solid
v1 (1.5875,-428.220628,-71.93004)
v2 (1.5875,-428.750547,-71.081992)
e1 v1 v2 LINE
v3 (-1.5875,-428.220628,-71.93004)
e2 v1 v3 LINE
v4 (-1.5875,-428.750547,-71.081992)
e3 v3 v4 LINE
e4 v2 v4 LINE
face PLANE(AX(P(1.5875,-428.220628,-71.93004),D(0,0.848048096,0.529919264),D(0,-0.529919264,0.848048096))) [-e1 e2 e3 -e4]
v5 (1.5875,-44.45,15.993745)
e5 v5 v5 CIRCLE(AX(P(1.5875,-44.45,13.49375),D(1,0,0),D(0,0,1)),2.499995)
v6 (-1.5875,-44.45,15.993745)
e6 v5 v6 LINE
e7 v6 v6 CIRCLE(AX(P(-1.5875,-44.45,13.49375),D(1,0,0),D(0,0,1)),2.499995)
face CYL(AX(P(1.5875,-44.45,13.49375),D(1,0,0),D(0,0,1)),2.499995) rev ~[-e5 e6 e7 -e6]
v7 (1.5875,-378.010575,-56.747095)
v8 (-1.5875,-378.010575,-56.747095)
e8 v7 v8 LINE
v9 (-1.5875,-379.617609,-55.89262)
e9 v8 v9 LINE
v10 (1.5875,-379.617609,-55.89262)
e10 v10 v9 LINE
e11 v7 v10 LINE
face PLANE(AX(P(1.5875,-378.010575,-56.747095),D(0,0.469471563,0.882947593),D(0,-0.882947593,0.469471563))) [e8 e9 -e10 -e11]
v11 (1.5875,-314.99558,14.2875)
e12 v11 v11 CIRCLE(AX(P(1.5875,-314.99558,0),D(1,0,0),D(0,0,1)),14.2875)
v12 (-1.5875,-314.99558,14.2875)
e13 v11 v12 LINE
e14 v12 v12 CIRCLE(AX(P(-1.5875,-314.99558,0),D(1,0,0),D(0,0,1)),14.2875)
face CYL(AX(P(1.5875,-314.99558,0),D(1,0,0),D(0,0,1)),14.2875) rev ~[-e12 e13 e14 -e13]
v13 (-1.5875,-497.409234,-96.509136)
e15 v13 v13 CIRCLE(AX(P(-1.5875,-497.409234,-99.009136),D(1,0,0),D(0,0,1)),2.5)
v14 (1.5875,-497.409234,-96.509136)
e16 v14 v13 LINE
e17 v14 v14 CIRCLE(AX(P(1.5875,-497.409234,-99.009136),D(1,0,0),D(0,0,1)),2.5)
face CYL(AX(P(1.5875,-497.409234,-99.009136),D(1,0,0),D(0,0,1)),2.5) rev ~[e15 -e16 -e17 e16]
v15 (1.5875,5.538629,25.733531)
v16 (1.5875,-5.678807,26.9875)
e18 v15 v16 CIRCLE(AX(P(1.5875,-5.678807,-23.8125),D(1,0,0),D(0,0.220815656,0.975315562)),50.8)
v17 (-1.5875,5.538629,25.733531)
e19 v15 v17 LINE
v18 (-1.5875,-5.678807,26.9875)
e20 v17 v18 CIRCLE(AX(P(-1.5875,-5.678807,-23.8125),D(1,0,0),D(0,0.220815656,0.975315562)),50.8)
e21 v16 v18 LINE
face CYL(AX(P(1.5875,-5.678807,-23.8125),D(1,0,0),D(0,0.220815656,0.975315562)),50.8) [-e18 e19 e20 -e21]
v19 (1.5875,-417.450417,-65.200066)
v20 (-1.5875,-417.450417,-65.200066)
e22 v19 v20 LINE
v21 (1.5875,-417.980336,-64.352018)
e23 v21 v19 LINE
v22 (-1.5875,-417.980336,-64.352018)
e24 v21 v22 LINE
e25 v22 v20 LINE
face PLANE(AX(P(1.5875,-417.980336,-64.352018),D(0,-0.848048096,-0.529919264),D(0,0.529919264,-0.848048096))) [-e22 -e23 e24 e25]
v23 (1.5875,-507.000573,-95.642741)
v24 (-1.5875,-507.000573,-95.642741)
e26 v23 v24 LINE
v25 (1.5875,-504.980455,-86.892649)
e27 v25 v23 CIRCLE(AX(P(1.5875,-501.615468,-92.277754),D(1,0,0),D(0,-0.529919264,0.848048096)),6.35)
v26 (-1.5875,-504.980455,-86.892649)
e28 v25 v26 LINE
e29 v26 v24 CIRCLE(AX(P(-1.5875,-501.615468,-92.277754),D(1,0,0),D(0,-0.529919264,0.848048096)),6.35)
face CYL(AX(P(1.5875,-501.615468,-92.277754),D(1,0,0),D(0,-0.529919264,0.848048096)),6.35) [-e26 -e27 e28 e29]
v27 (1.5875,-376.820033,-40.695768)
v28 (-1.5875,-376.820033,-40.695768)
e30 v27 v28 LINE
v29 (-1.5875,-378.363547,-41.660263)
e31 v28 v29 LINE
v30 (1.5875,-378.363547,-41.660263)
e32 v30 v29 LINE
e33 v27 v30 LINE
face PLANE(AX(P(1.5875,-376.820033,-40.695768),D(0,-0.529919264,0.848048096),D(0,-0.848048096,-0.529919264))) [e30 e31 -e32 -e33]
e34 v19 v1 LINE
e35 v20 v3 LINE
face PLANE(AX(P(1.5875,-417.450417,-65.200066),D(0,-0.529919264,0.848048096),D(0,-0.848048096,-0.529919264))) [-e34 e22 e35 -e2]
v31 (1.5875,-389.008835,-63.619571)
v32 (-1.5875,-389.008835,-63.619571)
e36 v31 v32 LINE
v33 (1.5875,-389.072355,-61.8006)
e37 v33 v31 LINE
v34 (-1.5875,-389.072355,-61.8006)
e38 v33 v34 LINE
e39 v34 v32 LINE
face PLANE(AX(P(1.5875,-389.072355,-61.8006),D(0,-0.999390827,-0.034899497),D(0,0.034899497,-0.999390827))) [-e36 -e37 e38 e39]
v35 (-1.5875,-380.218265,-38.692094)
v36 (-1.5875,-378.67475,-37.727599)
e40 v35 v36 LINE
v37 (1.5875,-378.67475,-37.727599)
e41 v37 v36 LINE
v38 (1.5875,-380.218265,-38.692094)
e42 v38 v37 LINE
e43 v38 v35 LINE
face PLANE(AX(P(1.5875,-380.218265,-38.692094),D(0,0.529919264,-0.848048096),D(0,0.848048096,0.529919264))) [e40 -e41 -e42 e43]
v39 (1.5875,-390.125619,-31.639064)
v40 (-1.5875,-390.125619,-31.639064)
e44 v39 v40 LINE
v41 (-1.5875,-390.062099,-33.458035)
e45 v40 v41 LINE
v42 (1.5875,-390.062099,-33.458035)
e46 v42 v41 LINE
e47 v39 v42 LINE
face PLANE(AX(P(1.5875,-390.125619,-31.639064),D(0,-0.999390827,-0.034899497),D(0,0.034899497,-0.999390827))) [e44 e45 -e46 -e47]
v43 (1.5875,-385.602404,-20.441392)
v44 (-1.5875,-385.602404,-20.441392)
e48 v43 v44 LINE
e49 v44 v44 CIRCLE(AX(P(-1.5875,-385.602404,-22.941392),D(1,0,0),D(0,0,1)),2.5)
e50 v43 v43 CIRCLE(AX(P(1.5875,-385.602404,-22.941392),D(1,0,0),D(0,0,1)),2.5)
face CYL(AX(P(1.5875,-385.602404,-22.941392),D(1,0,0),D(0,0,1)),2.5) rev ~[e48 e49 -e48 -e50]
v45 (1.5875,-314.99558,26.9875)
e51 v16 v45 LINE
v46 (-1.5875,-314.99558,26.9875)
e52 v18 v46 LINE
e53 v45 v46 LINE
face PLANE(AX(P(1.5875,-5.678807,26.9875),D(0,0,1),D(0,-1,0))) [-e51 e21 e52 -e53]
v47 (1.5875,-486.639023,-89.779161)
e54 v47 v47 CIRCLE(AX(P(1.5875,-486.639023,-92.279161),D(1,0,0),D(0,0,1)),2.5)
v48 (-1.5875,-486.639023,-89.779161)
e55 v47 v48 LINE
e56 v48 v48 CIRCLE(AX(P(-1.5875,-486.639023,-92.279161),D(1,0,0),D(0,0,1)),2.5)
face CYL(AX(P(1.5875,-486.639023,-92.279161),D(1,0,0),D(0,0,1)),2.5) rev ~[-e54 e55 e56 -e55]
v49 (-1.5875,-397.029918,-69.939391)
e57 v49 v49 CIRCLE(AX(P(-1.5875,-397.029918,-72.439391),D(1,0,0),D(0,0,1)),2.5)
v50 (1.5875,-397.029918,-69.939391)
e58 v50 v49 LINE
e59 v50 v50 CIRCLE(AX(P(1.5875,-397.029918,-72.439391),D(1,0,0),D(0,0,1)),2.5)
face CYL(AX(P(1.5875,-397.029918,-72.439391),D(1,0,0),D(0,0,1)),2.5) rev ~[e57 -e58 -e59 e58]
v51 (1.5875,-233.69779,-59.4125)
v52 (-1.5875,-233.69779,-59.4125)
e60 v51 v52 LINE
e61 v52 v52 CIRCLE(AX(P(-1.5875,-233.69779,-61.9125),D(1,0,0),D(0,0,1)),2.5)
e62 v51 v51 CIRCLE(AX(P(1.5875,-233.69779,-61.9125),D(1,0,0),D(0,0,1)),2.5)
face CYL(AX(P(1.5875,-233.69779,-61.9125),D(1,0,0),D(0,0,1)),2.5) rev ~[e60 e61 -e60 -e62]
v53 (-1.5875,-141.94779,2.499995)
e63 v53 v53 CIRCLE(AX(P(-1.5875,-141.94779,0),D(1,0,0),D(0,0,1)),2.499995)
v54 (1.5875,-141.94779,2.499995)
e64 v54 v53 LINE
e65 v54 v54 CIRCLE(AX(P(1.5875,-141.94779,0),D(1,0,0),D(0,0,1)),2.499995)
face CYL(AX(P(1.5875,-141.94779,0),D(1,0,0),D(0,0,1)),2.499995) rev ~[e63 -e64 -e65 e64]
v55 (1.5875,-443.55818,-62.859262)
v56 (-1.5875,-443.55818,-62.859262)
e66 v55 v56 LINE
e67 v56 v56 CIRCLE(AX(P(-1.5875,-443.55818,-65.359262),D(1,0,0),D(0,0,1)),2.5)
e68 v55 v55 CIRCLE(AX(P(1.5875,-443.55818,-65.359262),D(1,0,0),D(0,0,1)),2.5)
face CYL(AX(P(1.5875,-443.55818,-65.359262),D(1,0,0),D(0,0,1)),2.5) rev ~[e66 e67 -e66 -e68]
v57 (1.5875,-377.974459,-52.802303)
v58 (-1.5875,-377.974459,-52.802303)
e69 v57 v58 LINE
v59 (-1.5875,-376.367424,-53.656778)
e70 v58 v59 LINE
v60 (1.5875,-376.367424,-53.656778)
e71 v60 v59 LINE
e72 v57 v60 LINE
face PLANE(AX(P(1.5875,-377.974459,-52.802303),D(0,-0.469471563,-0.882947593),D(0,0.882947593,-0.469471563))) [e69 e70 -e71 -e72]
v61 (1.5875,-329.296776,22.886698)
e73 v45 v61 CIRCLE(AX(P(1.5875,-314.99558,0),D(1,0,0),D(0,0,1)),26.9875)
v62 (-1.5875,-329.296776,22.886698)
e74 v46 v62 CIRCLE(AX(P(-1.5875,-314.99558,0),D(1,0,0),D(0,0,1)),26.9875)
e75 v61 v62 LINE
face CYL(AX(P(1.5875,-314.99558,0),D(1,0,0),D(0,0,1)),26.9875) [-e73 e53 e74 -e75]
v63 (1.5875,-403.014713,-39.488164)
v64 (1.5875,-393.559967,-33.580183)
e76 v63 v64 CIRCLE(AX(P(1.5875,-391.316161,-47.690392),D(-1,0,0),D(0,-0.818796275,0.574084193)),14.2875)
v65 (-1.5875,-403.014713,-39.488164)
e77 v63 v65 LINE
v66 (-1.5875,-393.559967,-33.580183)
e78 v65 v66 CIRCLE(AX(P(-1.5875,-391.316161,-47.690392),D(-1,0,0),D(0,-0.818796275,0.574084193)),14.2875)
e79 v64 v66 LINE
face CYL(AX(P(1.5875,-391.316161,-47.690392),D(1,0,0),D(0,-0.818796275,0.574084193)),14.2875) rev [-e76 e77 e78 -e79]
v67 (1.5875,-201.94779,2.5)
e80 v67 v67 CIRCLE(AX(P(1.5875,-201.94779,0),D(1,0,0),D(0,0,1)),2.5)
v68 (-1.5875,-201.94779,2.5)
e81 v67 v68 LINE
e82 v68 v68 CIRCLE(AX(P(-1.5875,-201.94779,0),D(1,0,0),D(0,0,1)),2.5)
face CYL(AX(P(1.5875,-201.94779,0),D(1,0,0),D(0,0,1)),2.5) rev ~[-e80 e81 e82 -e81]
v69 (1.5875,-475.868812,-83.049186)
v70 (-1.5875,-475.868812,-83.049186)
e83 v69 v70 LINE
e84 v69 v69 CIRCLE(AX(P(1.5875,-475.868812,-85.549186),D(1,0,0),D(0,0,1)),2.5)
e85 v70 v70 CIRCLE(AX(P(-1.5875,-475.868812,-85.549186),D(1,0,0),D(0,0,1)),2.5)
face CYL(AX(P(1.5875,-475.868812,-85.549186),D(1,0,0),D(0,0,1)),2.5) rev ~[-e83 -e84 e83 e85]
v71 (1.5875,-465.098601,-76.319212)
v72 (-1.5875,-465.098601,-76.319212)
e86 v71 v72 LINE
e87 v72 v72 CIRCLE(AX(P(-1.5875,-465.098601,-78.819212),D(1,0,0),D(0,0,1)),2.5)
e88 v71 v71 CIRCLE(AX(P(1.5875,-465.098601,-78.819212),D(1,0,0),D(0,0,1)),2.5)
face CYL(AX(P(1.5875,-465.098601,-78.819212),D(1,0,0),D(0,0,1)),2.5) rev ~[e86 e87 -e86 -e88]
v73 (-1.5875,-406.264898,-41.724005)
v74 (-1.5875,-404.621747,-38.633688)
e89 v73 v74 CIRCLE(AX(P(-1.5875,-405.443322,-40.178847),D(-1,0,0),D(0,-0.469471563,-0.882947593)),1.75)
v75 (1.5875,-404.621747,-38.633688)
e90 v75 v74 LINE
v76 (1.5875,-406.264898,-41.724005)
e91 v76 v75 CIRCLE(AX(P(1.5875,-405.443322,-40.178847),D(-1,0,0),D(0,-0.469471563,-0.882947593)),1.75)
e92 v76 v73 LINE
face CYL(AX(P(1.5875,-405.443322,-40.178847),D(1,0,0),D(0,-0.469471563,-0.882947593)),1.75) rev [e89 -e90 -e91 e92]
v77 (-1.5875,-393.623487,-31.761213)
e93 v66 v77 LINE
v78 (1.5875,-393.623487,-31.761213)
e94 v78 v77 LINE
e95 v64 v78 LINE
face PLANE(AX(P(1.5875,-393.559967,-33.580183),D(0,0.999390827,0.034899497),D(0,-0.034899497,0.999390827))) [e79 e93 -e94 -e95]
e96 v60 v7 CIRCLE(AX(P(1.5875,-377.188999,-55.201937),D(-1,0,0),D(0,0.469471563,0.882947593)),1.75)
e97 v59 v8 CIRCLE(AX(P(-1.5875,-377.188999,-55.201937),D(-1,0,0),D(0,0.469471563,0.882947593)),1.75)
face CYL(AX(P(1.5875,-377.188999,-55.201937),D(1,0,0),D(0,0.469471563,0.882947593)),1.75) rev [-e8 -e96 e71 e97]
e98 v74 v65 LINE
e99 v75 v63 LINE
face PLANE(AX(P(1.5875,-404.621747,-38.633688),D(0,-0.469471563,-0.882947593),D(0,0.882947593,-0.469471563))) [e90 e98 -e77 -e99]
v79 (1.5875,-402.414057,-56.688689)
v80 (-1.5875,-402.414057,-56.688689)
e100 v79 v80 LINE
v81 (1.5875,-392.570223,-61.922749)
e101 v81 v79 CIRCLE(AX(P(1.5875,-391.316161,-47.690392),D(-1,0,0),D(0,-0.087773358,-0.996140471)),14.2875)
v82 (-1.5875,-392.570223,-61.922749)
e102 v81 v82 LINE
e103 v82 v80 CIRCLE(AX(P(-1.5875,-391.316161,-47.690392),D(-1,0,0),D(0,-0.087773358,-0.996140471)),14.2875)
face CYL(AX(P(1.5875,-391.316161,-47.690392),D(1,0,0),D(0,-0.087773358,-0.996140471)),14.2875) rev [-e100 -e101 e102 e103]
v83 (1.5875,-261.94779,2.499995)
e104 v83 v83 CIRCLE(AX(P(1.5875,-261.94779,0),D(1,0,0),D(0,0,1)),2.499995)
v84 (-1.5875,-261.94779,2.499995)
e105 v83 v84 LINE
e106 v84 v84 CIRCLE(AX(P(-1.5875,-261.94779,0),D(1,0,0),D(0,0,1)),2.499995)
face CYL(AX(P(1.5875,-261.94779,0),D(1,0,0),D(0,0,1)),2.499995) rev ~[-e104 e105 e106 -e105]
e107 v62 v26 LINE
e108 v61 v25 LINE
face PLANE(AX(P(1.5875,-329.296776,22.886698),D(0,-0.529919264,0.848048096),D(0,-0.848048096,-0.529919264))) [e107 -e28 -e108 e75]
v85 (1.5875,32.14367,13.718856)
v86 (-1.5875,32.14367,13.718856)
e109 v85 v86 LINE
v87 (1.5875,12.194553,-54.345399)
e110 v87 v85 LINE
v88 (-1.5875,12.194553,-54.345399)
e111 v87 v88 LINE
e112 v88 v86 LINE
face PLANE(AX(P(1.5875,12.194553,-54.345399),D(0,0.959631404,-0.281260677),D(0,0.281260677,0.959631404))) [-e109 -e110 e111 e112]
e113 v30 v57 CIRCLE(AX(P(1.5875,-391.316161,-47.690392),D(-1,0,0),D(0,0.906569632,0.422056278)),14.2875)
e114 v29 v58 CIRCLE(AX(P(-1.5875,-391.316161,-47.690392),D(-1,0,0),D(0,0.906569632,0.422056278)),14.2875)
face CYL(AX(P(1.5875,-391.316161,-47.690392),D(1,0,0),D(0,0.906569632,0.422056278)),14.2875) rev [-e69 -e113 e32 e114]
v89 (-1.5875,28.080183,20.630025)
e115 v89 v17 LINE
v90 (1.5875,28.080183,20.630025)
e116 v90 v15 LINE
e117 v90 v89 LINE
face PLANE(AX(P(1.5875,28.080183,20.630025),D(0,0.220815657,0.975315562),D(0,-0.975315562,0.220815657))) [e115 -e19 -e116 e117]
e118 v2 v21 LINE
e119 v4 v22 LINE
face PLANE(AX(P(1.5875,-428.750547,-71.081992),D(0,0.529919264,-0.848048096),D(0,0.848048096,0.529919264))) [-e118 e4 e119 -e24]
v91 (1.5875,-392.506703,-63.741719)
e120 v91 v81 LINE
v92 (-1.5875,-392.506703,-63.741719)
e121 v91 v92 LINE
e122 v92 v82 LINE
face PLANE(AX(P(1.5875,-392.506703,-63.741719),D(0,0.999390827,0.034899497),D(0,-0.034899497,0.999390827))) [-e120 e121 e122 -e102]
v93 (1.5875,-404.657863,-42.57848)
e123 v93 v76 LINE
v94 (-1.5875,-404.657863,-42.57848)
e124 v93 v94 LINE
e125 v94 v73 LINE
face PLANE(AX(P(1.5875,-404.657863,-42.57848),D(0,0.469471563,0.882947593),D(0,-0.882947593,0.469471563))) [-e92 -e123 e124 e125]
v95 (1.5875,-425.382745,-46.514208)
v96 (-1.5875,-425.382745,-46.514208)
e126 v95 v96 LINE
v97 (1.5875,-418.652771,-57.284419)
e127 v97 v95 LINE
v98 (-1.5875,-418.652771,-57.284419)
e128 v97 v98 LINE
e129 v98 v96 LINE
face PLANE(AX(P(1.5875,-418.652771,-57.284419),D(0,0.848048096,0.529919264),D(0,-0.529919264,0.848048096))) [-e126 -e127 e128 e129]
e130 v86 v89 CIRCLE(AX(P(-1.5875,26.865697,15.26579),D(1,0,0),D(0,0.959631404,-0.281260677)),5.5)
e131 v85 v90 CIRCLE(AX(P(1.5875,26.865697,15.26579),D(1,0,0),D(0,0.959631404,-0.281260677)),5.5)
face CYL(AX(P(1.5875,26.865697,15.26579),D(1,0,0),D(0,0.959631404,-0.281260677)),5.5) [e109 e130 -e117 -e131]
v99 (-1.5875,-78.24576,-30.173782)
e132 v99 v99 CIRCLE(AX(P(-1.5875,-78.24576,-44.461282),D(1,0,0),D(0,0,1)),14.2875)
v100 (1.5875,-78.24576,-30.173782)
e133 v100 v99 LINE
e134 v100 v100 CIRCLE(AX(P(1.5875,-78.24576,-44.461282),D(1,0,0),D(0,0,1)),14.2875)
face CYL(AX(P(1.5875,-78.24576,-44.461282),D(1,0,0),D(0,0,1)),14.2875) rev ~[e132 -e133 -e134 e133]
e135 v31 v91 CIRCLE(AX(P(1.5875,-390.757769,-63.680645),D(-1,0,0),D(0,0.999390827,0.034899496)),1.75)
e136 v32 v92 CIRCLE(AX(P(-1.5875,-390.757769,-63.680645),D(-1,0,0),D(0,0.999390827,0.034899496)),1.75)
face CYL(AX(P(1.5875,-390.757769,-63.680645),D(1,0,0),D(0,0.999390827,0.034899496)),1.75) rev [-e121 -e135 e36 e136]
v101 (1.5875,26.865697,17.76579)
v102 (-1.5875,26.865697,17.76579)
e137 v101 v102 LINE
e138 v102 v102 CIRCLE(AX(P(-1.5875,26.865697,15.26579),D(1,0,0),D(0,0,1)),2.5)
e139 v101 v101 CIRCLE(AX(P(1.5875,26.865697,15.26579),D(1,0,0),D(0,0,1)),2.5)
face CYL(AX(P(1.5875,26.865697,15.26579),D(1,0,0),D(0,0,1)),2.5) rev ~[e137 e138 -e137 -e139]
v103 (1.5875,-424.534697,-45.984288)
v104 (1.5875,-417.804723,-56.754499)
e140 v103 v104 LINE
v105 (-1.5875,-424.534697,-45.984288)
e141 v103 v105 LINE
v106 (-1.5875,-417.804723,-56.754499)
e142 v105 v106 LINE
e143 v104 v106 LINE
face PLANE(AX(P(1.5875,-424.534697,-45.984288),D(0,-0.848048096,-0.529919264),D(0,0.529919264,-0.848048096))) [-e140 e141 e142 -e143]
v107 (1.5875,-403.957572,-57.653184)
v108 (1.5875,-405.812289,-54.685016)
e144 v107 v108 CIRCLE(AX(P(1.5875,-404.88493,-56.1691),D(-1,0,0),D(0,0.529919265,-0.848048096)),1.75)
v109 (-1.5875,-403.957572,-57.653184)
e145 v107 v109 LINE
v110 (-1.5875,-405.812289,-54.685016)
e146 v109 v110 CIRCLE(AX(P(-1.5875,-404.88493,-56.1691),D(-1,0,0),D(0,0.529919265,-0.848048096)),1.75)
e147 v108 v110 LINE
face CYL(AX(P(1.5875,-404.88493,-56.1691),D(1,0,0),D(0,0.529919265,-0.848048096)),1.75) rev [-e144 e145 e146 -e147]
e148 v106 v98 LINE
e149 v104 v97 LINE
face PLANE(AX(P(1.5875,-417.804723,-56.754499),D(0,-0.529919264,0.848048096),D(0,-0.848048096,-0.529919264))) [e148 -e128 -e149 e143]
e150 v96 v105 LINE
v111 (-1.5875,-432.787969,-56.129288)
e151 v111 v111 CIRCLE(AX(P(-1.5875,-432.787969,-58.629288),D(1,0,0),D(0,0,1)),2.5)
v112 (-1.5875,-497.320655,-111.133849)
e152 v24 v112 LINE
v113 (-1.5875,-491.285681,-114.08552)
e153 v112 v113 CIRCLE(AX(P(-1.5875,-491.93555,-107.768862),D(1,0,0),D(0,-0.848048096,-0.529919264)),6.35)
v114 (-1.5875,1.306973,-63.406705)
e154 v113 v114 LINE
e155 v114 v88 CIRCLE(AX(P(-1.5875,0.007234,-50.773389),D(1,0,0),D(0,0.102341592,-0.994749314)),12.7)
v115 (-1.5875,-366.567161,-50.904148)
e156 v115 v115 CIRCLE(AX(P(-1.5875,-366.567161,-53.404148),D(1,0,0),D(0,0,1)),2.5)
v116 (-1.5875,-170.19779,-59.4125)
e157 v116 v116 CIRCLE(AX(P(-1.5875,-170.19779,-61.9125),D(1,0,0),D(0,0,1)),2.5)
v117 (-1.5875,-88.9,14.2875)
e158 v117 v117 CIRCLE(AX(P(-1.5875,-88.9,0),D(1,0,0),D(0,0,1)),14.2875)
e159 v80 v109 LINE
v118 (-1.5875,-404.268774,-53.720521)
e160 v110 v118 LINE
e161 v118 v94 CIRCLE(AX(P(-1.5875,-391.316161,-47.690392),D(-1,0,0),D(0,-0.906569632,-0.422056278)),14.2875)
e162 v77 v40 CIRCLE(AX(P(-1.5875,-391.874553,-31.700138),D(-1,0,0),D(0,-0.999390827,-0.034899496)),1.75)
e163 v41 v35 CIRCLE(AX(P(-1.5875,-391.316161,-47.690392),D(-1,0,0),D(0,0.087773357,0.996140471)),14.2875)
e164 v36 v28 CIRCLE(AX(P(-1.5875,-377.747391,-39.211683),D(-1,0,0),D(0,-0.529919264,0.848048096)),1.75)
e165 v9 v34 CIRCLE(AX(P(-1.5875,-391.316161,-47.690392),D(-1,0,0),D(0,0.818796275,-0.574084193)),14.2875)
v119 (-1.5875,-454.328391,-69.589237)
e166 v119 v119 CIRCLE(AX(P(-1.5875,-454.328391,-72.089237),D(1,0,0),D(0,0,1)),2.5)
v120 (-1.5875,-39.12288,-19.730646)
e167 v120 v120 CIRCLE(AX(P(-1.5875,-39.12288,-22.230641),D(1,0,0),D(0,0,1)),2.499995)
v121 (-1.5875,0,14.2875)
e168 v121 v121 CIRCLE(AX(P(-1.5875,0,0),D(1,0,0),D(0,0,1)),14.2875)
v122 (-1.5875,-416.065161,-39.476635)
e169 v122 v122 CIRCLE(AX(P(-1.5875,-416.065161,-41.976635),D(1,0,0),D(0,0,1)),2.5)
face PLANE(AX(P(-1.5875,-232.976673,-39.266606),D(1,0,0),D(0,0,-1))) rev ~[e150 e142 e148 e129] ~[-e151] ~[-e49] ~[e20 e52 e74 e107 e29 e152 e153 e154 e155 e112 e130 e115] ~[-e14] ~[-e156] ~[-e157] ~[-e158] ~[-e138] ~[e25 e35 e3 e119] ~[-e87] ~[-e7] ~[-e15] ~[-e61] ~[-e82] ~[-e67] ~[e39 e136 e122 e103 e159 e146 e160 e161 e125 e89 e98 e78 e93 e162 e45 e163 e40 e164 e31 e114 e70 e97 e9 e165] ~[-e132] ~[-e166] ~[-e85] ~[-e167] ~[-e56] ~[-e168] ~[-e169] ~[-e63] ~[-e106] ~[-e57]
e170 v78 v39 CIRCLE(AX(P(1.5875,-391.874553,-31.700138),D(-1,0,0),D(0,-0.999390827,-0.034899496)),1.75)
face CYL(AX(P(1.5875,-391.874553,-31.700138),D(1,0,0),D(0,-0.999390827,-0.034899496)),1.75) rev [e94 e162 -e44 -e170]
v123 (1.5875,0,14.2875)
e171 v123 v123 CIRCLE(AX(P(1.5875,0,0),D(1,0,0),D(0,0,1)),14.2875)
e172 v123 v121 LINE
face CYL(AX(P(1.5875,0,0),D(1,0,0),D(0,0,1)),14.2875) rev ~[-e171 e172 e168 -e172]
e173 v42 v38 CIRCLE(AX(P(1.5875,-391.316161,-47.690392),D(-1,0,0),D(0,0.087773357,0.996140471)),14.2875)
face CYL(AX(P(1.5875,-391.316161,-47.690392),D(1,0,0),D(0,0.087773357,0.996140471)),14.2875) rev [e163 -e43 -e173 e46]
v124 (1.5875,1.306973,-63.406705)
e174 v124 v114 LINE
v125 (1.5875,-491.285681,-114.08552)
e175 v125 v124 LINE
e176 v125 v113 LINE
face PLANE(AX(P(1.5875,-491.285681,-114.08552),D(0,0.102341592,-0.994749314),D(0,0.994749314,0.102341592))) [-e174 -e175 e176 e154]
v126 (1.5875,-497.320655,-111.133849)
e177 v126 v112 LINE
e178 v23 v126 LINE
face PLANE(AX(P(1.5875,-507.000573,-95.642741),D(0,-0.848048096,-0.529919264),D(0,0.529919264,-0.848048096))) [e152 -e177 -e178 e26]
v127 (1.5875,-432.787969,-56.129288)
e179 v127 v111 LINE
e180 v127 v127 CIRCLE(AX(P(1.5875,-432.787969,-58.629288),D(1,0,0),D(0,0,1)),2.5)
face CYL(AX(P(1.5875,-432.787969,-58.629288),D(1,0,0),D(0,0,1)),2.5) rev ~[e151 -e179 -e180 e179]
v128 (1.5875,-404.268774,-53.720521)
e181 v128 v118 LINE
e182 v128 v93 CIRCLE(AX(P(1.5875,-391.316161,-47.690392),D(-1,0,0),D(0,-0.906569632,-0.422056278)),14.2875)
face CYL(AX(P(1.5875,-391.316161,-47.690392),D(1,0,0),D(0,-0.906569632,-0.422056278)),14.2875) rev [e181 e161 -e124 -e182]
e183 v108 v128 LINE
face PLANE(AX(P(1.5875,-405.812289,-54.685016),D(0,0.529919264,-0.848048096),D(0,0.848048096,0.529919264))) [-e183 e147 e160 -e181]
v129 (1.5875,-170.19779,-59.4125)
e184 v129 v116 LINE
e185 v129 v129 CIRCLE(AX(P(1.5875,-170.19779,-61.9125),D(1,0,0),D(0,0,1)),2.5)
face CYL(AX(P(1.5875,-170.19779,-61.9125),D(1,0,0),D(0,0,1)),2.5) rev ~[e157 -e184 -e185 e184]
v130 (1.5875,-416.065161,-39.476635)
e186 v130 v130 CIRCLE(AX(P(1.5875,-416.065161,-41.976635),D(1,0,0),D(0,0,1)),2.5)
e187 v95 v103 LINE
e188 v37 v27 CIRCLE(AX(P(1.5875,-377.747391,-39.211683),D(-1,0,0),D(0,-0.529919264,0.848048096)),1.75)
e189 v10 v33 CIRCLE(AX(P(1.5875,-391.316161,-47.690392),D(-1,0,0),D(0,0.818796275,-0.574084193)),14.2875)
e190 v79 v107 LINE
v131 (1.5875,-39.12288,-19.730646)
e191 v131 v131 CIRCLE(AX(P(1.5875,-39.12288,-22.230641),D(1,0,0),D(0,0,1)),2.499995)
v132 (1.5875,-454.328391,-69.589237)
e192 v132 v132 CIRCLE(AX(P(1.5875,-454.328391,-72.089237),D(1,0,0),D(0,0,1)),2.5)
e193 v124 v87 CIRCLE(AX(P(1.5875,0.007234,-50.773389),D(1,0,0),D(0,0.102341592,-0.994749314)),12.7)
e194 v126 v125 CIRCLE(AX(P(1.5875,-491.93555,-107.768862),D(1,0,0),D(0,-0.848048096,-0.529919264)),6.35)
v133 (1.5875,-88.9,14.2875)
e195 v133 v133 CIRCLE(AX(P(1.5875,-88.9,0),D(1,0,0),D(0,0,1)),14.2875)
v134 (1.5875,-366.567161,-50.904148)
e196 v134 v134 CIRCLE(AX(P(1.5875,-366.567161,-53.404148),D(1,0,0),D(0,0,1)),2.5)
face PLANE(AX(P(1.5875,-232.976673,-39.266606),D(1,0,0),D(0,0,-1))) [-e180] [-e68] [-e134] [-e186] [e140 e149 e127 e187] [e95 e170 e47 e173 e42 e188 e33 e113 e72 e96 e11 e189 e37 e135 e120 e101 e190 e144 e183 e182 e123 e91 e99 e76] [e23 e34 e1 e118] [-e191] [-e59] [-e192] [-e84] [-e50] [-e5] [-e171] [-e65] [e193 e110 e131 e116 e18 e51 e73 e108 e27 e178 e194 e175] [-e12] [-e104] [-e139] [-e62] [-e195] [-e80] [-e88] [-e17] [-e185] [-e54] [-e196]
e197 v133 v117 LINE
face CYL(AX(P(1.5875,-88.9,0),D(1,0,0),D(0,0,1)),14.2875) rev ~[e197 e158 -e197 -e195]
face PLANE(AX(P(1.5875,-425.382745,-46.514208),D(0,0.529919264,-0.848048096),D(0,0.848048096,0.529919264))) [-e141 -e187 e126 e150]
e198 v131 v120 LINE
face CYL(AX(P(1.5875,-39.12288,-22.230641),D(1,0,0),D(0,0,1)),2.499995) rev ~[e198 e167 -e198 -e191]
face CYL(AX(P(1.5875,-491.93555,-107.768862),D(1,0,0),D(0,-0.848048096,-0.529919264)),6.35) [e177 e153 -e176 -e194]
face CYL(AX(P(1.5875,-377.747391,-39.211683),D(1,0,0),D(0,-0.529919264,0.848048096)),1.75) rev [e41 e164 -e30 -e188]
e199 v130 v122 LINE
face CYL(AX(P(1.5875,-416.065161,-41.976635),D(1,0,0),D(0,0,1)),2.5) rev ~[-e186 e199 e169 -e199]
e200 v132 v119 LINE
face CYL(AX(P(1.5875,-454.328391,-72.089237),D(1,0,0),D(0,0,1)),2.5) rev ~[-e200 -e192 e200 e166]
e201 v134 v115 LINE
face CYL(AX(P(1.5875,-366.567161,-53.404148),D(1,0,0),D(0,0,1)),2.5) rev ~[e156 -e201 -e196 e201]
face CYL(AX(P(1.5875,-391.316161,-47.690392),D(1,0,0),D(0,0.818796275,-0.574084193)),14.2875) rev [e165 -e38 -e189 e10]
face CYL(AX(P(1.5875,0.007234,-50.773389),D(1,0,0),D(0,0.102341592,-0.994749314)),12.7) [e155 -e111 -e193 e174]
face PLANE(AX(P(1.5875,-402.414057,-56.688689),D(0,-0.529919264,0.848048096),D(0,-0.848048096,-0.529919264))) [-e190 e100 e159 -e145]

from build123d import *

# Parameters (mm, degrees)
SKETCH1_R           = 2.499995
SKETCH1_R_2         = 2.5
SKETCH1_R_3         = 14.2875
BOSS_EXTRUDE1_DEPTH = 3.175


with BuildPart() as part:
    # Sketch1 → Boss-Extrude1 (new body)
    with BuildSketch(Plane(origin=(1.5875, 0, 0), x_dir=(0, 0, -1), z_dir=(1, 0, 0))):
        with BuildLine():
            Line((54.345399121, 12.19455323), (-13.718855966, 32.143669532))
            ThreePointArc((-13.718855966, 32.143669532), (-18.053428342, 31.606906651), (-20.630025283, 28.080182921))
            Line((-20.630025283, 28.080182921), (-25.733530559, 5.5386286))
            ThreePointArc((-25.733530559, 5.5386286), (-26.673034326, -0.035153342), (-26.9875, -5.678806752))
            Line((-26.9875, -5.678806752), (-26.9875, -314.995580316))
            ThreePointArc((-26.9875, -314.995580316), (-25.942050019, -322.434343457), (-22.886697995, -329.29677646))
            Line((-22.886697995, -329.29677646), (86.89264859, -504.980455375))
            ThreePointArc((86.89264859, -504.980455375), (90.849314805, -507.802717959), (95.642741328, -507.000573458))
            Line((95.642741328, -507.000573458), (111.133848853, -497.320655139))
            ThreePointArc((111.133848853, -497.320655139), (113.473140107, -494.725479093), (114.085519672, -491.285680619))
            Line((114.085519672, -491.285680619), (63.406704813, 1.306972618))
            ThreePointArc((63.406704813, 1.306972618), (60.534946173, 8.131395413), (54.345399121, 12.19455323))
        make_face()
        with Locations(Location((0, -261.947790158, 0), (0, 0, 180))):
            Circle(SKETCH1_R, mode=Mode.SUBTRACT)
        with Locations(Location((0, -141.947790158, 0), (0, 0, 180))):
            Circle(SKETCH1_R, mode=Mode.SUBTRACT)
        with Locations(Location((22.230640813, -39.122879855, 0), (0, 0, 180))):
            Circle(SKETCH1_R, mode=Mode.SUBTRACT)
        with Locations(Location((-13.49375, -44.45, 0), (0, 0, 180))):
            Circle(SKETCH1_R, mode=Mode.SUBTRACT)
        with Locations(Location((41.976634925, -416.065160512, 0), (0, 0, 180))):
            Circle(SKETCH1_R_2, mode=Mode.SUBTRACT)
        with Locations(Location((72.439391351, -397.029917647, 0), (0, 0, 180))):
            Circle(SKETCH1_R_2, mode=Mode.SUBTRACT)
        with Locations(Location((53.404148486, -366.567161221, 0), (0, 0, 180))):
            Circle(SKETCH1_R_2, mode=Mode.SUBTRACT)
        with Locations(Location((22.94139206, -385.602404086, 0), (0, 0, 180))):
            Circle(SKETCH1_R_2, mode=Mode.SUBTRACT)
        with Locations(Location((0, -201.947790158, 0), (0, 0, 180))):
            Circle(SKETCH1_R_2, mode=Mode.SUBTRACT)
        with Locations(Location((61.9125, -233.697790158, 0), (0, 0, 180))):
            Circle(SKETCH1_R_2, mode=Mode.SUBTRACT)
        with Locations(Location((61.9125, -170.197790158, 0), (0, 0, 180))):
            Circle(SKETCH1_R_2, mode=Mode.SUBTRACT)
        with Locations(Location((0, 0, 0), (0, 0, 180))):
            Circle(SKETCH1_R_3, mode=Mode.SUBTRACT)
        with Locations(Location((0, -88.9, 0), (0, 0, 180))):
            Circle(SKETCH1_R_3, mode=Mode.SUBTRACT)
        with Locations(Location((0, -314.995580316, 0), (0, 0, 180))):
            Circle(SKETCH1_R_3, mode=Mode.SUBTRACT)
        with Locations(Location((44.461281626, -78.24575971, 0), (0, 0, 180))):
            Circle(SKETCH1_R_3, mode=Mode.SUBTRACT)
        with Locations(Location((58.629287829, -432.78796896, 0), (0, 0, 180))):
            Circle(SKETCH1_R_2, mode=Mode.SUBTRACT)
        with Locations(Location((65.359262485, -443.558179782, 0), (0, 0, 180))):
            Circle(SKETCH1_R_2, mode=Mode.SUBTRACT)
        with Locations(Location((72.089237141, -454.328390603, 0), (0, 0, 180))):
            Circle(SKETCH1_R_2, mode=Mode.SUBTRACT)
        with Locations(Location((78.819211796, -465.098601424, 0), (0, 0, 180))):
            Circle(SKETCH1_R_2, mode=Mode.SUBTRACT)
        with Locations(Location((85.549186452, -475.868812245, 0), (0, 0, 180))):
            Circle(SKETCH1_R_2, mode=Mode.SUBTRACT)
        with Locations(Location((92.279161108, -486.639023066, 0), (0, 0, 180))):
            Circle(SKETCH1_R_2, mode=Mode.SUBTRACT)
        with Locations(Location((99.009135764, -497.409233887, 0), (0, 0, 180))):
            Circle(SKETCH1_R_2, mode=Mode.SUBTRACT)
        with Locations(Location((-15.265789691, 26.86569681, 0), (0, 0, 180))):
            Circle(SKETCH1_R_2, mode=Mode.SUBTRACT)
        with BuildLine():
            Line((40.695767644, -376.820032614), (41.660262631, -378.363547244))
            ThreePointArc((41.660262631, -378.363547244), (47.191765144, -377.037364423), (52.802303033, -377.974458618))
            Line((52.802303033, -377.974458618), (53.656778421, -376.367424143))
            ThreePointArc((53.656778421, -376.367424143), (56.023511943, -375.64384109), (56.747094996, -378.010574612))
            Line((56.747094996, -378.010574612), (55.892619609, -379.617609087))
            ThreePointArc((55.892619609, -379.617609087), (59.806878879, -383.744939376), (61.800600445, -389.072354815))
            Line((61.800600445, -389.072354815), (63.619570819, -389.008834969))
            ThreePointArc((63.619570819, -389.008834969), (65.429578885, -390.696694798), (63.741719057, -392.506702864))
            Line((63.741719057, -392.506702864), (61.922748683, -392.570222709))
            ThreePointArc((61.922748683, -392.570222709), (60.305505438, -398.023735817), (56.688689115, -402.41405706))
            Line((56.688689115, -402.41405706), (57.653184101, -403.95757169))
            ThreePointArc((57.653184101, -403.95757169), (57.096458646, -406.369014571), (54.685015765, -405.812289115))
            Line((54.685015765, -405.812289115), (53.720520779, -404.268774485))
            ThreePointArc((53.720520779, -404.268774485), (48.189018265, -405.594957305), (42.578480376, -404.65786311))
            Line((42.578480376, -404.65786311), (41.724004989, -406.264897585))
            ThreePointArc((41.724004989, -406.264897585), (39.357271466, -406.988480637), (38.633688414, -404.621747115))
            Line((38.633688414, -404.621747115), (39.488163801, -403.01471264))
            ThreePointArc((39.488163801, -403.01471264), (35.573904532, -398.887382352), (33.580182967, -393.559966914))
            Line((33.580182967, -393.559966914), (31.761212592, -393.623486759))
            ThreePointArc((31.761212592, -393.623486759), (29.951204527, -391.935626932), (31.639064354, -390.125618866))
            Line((31.639064354, -390.125618866), (33.458034728, -390.062099021))
            ThreePointArc((33.458034728, -390.062099021), (35.075277972, -384.608585913), (38.692094295, -380.218264669))
            Line((38.692094295, -380.218264669), (37.727599308, -378.674750039))
            ThreePointArc((37.727599308, -378.674750039), (38.284324764, -376.263307159), (40.695767644, -376.820032614))
        make_face(mode=Mode.SUBTRACT)
        Polygon((45.984288499, -424.534697371), (56.75449932, -417.804722715), (57.284418584, -418.652770811), (46.514207763, -425.382745467), align=None, mode=Mode.SUBTRACT)
        Polygon((65.200065755, -417.450416925), (71.930040411, -428.220627746), (71.081992315, -428.75054701), (64.352017658, -417.980336189), align=None, mode=Mode.SUBTRACT)
    extrude(amount=-BOSS_EXTRUDE1_DEPTH)


solid = part.part
